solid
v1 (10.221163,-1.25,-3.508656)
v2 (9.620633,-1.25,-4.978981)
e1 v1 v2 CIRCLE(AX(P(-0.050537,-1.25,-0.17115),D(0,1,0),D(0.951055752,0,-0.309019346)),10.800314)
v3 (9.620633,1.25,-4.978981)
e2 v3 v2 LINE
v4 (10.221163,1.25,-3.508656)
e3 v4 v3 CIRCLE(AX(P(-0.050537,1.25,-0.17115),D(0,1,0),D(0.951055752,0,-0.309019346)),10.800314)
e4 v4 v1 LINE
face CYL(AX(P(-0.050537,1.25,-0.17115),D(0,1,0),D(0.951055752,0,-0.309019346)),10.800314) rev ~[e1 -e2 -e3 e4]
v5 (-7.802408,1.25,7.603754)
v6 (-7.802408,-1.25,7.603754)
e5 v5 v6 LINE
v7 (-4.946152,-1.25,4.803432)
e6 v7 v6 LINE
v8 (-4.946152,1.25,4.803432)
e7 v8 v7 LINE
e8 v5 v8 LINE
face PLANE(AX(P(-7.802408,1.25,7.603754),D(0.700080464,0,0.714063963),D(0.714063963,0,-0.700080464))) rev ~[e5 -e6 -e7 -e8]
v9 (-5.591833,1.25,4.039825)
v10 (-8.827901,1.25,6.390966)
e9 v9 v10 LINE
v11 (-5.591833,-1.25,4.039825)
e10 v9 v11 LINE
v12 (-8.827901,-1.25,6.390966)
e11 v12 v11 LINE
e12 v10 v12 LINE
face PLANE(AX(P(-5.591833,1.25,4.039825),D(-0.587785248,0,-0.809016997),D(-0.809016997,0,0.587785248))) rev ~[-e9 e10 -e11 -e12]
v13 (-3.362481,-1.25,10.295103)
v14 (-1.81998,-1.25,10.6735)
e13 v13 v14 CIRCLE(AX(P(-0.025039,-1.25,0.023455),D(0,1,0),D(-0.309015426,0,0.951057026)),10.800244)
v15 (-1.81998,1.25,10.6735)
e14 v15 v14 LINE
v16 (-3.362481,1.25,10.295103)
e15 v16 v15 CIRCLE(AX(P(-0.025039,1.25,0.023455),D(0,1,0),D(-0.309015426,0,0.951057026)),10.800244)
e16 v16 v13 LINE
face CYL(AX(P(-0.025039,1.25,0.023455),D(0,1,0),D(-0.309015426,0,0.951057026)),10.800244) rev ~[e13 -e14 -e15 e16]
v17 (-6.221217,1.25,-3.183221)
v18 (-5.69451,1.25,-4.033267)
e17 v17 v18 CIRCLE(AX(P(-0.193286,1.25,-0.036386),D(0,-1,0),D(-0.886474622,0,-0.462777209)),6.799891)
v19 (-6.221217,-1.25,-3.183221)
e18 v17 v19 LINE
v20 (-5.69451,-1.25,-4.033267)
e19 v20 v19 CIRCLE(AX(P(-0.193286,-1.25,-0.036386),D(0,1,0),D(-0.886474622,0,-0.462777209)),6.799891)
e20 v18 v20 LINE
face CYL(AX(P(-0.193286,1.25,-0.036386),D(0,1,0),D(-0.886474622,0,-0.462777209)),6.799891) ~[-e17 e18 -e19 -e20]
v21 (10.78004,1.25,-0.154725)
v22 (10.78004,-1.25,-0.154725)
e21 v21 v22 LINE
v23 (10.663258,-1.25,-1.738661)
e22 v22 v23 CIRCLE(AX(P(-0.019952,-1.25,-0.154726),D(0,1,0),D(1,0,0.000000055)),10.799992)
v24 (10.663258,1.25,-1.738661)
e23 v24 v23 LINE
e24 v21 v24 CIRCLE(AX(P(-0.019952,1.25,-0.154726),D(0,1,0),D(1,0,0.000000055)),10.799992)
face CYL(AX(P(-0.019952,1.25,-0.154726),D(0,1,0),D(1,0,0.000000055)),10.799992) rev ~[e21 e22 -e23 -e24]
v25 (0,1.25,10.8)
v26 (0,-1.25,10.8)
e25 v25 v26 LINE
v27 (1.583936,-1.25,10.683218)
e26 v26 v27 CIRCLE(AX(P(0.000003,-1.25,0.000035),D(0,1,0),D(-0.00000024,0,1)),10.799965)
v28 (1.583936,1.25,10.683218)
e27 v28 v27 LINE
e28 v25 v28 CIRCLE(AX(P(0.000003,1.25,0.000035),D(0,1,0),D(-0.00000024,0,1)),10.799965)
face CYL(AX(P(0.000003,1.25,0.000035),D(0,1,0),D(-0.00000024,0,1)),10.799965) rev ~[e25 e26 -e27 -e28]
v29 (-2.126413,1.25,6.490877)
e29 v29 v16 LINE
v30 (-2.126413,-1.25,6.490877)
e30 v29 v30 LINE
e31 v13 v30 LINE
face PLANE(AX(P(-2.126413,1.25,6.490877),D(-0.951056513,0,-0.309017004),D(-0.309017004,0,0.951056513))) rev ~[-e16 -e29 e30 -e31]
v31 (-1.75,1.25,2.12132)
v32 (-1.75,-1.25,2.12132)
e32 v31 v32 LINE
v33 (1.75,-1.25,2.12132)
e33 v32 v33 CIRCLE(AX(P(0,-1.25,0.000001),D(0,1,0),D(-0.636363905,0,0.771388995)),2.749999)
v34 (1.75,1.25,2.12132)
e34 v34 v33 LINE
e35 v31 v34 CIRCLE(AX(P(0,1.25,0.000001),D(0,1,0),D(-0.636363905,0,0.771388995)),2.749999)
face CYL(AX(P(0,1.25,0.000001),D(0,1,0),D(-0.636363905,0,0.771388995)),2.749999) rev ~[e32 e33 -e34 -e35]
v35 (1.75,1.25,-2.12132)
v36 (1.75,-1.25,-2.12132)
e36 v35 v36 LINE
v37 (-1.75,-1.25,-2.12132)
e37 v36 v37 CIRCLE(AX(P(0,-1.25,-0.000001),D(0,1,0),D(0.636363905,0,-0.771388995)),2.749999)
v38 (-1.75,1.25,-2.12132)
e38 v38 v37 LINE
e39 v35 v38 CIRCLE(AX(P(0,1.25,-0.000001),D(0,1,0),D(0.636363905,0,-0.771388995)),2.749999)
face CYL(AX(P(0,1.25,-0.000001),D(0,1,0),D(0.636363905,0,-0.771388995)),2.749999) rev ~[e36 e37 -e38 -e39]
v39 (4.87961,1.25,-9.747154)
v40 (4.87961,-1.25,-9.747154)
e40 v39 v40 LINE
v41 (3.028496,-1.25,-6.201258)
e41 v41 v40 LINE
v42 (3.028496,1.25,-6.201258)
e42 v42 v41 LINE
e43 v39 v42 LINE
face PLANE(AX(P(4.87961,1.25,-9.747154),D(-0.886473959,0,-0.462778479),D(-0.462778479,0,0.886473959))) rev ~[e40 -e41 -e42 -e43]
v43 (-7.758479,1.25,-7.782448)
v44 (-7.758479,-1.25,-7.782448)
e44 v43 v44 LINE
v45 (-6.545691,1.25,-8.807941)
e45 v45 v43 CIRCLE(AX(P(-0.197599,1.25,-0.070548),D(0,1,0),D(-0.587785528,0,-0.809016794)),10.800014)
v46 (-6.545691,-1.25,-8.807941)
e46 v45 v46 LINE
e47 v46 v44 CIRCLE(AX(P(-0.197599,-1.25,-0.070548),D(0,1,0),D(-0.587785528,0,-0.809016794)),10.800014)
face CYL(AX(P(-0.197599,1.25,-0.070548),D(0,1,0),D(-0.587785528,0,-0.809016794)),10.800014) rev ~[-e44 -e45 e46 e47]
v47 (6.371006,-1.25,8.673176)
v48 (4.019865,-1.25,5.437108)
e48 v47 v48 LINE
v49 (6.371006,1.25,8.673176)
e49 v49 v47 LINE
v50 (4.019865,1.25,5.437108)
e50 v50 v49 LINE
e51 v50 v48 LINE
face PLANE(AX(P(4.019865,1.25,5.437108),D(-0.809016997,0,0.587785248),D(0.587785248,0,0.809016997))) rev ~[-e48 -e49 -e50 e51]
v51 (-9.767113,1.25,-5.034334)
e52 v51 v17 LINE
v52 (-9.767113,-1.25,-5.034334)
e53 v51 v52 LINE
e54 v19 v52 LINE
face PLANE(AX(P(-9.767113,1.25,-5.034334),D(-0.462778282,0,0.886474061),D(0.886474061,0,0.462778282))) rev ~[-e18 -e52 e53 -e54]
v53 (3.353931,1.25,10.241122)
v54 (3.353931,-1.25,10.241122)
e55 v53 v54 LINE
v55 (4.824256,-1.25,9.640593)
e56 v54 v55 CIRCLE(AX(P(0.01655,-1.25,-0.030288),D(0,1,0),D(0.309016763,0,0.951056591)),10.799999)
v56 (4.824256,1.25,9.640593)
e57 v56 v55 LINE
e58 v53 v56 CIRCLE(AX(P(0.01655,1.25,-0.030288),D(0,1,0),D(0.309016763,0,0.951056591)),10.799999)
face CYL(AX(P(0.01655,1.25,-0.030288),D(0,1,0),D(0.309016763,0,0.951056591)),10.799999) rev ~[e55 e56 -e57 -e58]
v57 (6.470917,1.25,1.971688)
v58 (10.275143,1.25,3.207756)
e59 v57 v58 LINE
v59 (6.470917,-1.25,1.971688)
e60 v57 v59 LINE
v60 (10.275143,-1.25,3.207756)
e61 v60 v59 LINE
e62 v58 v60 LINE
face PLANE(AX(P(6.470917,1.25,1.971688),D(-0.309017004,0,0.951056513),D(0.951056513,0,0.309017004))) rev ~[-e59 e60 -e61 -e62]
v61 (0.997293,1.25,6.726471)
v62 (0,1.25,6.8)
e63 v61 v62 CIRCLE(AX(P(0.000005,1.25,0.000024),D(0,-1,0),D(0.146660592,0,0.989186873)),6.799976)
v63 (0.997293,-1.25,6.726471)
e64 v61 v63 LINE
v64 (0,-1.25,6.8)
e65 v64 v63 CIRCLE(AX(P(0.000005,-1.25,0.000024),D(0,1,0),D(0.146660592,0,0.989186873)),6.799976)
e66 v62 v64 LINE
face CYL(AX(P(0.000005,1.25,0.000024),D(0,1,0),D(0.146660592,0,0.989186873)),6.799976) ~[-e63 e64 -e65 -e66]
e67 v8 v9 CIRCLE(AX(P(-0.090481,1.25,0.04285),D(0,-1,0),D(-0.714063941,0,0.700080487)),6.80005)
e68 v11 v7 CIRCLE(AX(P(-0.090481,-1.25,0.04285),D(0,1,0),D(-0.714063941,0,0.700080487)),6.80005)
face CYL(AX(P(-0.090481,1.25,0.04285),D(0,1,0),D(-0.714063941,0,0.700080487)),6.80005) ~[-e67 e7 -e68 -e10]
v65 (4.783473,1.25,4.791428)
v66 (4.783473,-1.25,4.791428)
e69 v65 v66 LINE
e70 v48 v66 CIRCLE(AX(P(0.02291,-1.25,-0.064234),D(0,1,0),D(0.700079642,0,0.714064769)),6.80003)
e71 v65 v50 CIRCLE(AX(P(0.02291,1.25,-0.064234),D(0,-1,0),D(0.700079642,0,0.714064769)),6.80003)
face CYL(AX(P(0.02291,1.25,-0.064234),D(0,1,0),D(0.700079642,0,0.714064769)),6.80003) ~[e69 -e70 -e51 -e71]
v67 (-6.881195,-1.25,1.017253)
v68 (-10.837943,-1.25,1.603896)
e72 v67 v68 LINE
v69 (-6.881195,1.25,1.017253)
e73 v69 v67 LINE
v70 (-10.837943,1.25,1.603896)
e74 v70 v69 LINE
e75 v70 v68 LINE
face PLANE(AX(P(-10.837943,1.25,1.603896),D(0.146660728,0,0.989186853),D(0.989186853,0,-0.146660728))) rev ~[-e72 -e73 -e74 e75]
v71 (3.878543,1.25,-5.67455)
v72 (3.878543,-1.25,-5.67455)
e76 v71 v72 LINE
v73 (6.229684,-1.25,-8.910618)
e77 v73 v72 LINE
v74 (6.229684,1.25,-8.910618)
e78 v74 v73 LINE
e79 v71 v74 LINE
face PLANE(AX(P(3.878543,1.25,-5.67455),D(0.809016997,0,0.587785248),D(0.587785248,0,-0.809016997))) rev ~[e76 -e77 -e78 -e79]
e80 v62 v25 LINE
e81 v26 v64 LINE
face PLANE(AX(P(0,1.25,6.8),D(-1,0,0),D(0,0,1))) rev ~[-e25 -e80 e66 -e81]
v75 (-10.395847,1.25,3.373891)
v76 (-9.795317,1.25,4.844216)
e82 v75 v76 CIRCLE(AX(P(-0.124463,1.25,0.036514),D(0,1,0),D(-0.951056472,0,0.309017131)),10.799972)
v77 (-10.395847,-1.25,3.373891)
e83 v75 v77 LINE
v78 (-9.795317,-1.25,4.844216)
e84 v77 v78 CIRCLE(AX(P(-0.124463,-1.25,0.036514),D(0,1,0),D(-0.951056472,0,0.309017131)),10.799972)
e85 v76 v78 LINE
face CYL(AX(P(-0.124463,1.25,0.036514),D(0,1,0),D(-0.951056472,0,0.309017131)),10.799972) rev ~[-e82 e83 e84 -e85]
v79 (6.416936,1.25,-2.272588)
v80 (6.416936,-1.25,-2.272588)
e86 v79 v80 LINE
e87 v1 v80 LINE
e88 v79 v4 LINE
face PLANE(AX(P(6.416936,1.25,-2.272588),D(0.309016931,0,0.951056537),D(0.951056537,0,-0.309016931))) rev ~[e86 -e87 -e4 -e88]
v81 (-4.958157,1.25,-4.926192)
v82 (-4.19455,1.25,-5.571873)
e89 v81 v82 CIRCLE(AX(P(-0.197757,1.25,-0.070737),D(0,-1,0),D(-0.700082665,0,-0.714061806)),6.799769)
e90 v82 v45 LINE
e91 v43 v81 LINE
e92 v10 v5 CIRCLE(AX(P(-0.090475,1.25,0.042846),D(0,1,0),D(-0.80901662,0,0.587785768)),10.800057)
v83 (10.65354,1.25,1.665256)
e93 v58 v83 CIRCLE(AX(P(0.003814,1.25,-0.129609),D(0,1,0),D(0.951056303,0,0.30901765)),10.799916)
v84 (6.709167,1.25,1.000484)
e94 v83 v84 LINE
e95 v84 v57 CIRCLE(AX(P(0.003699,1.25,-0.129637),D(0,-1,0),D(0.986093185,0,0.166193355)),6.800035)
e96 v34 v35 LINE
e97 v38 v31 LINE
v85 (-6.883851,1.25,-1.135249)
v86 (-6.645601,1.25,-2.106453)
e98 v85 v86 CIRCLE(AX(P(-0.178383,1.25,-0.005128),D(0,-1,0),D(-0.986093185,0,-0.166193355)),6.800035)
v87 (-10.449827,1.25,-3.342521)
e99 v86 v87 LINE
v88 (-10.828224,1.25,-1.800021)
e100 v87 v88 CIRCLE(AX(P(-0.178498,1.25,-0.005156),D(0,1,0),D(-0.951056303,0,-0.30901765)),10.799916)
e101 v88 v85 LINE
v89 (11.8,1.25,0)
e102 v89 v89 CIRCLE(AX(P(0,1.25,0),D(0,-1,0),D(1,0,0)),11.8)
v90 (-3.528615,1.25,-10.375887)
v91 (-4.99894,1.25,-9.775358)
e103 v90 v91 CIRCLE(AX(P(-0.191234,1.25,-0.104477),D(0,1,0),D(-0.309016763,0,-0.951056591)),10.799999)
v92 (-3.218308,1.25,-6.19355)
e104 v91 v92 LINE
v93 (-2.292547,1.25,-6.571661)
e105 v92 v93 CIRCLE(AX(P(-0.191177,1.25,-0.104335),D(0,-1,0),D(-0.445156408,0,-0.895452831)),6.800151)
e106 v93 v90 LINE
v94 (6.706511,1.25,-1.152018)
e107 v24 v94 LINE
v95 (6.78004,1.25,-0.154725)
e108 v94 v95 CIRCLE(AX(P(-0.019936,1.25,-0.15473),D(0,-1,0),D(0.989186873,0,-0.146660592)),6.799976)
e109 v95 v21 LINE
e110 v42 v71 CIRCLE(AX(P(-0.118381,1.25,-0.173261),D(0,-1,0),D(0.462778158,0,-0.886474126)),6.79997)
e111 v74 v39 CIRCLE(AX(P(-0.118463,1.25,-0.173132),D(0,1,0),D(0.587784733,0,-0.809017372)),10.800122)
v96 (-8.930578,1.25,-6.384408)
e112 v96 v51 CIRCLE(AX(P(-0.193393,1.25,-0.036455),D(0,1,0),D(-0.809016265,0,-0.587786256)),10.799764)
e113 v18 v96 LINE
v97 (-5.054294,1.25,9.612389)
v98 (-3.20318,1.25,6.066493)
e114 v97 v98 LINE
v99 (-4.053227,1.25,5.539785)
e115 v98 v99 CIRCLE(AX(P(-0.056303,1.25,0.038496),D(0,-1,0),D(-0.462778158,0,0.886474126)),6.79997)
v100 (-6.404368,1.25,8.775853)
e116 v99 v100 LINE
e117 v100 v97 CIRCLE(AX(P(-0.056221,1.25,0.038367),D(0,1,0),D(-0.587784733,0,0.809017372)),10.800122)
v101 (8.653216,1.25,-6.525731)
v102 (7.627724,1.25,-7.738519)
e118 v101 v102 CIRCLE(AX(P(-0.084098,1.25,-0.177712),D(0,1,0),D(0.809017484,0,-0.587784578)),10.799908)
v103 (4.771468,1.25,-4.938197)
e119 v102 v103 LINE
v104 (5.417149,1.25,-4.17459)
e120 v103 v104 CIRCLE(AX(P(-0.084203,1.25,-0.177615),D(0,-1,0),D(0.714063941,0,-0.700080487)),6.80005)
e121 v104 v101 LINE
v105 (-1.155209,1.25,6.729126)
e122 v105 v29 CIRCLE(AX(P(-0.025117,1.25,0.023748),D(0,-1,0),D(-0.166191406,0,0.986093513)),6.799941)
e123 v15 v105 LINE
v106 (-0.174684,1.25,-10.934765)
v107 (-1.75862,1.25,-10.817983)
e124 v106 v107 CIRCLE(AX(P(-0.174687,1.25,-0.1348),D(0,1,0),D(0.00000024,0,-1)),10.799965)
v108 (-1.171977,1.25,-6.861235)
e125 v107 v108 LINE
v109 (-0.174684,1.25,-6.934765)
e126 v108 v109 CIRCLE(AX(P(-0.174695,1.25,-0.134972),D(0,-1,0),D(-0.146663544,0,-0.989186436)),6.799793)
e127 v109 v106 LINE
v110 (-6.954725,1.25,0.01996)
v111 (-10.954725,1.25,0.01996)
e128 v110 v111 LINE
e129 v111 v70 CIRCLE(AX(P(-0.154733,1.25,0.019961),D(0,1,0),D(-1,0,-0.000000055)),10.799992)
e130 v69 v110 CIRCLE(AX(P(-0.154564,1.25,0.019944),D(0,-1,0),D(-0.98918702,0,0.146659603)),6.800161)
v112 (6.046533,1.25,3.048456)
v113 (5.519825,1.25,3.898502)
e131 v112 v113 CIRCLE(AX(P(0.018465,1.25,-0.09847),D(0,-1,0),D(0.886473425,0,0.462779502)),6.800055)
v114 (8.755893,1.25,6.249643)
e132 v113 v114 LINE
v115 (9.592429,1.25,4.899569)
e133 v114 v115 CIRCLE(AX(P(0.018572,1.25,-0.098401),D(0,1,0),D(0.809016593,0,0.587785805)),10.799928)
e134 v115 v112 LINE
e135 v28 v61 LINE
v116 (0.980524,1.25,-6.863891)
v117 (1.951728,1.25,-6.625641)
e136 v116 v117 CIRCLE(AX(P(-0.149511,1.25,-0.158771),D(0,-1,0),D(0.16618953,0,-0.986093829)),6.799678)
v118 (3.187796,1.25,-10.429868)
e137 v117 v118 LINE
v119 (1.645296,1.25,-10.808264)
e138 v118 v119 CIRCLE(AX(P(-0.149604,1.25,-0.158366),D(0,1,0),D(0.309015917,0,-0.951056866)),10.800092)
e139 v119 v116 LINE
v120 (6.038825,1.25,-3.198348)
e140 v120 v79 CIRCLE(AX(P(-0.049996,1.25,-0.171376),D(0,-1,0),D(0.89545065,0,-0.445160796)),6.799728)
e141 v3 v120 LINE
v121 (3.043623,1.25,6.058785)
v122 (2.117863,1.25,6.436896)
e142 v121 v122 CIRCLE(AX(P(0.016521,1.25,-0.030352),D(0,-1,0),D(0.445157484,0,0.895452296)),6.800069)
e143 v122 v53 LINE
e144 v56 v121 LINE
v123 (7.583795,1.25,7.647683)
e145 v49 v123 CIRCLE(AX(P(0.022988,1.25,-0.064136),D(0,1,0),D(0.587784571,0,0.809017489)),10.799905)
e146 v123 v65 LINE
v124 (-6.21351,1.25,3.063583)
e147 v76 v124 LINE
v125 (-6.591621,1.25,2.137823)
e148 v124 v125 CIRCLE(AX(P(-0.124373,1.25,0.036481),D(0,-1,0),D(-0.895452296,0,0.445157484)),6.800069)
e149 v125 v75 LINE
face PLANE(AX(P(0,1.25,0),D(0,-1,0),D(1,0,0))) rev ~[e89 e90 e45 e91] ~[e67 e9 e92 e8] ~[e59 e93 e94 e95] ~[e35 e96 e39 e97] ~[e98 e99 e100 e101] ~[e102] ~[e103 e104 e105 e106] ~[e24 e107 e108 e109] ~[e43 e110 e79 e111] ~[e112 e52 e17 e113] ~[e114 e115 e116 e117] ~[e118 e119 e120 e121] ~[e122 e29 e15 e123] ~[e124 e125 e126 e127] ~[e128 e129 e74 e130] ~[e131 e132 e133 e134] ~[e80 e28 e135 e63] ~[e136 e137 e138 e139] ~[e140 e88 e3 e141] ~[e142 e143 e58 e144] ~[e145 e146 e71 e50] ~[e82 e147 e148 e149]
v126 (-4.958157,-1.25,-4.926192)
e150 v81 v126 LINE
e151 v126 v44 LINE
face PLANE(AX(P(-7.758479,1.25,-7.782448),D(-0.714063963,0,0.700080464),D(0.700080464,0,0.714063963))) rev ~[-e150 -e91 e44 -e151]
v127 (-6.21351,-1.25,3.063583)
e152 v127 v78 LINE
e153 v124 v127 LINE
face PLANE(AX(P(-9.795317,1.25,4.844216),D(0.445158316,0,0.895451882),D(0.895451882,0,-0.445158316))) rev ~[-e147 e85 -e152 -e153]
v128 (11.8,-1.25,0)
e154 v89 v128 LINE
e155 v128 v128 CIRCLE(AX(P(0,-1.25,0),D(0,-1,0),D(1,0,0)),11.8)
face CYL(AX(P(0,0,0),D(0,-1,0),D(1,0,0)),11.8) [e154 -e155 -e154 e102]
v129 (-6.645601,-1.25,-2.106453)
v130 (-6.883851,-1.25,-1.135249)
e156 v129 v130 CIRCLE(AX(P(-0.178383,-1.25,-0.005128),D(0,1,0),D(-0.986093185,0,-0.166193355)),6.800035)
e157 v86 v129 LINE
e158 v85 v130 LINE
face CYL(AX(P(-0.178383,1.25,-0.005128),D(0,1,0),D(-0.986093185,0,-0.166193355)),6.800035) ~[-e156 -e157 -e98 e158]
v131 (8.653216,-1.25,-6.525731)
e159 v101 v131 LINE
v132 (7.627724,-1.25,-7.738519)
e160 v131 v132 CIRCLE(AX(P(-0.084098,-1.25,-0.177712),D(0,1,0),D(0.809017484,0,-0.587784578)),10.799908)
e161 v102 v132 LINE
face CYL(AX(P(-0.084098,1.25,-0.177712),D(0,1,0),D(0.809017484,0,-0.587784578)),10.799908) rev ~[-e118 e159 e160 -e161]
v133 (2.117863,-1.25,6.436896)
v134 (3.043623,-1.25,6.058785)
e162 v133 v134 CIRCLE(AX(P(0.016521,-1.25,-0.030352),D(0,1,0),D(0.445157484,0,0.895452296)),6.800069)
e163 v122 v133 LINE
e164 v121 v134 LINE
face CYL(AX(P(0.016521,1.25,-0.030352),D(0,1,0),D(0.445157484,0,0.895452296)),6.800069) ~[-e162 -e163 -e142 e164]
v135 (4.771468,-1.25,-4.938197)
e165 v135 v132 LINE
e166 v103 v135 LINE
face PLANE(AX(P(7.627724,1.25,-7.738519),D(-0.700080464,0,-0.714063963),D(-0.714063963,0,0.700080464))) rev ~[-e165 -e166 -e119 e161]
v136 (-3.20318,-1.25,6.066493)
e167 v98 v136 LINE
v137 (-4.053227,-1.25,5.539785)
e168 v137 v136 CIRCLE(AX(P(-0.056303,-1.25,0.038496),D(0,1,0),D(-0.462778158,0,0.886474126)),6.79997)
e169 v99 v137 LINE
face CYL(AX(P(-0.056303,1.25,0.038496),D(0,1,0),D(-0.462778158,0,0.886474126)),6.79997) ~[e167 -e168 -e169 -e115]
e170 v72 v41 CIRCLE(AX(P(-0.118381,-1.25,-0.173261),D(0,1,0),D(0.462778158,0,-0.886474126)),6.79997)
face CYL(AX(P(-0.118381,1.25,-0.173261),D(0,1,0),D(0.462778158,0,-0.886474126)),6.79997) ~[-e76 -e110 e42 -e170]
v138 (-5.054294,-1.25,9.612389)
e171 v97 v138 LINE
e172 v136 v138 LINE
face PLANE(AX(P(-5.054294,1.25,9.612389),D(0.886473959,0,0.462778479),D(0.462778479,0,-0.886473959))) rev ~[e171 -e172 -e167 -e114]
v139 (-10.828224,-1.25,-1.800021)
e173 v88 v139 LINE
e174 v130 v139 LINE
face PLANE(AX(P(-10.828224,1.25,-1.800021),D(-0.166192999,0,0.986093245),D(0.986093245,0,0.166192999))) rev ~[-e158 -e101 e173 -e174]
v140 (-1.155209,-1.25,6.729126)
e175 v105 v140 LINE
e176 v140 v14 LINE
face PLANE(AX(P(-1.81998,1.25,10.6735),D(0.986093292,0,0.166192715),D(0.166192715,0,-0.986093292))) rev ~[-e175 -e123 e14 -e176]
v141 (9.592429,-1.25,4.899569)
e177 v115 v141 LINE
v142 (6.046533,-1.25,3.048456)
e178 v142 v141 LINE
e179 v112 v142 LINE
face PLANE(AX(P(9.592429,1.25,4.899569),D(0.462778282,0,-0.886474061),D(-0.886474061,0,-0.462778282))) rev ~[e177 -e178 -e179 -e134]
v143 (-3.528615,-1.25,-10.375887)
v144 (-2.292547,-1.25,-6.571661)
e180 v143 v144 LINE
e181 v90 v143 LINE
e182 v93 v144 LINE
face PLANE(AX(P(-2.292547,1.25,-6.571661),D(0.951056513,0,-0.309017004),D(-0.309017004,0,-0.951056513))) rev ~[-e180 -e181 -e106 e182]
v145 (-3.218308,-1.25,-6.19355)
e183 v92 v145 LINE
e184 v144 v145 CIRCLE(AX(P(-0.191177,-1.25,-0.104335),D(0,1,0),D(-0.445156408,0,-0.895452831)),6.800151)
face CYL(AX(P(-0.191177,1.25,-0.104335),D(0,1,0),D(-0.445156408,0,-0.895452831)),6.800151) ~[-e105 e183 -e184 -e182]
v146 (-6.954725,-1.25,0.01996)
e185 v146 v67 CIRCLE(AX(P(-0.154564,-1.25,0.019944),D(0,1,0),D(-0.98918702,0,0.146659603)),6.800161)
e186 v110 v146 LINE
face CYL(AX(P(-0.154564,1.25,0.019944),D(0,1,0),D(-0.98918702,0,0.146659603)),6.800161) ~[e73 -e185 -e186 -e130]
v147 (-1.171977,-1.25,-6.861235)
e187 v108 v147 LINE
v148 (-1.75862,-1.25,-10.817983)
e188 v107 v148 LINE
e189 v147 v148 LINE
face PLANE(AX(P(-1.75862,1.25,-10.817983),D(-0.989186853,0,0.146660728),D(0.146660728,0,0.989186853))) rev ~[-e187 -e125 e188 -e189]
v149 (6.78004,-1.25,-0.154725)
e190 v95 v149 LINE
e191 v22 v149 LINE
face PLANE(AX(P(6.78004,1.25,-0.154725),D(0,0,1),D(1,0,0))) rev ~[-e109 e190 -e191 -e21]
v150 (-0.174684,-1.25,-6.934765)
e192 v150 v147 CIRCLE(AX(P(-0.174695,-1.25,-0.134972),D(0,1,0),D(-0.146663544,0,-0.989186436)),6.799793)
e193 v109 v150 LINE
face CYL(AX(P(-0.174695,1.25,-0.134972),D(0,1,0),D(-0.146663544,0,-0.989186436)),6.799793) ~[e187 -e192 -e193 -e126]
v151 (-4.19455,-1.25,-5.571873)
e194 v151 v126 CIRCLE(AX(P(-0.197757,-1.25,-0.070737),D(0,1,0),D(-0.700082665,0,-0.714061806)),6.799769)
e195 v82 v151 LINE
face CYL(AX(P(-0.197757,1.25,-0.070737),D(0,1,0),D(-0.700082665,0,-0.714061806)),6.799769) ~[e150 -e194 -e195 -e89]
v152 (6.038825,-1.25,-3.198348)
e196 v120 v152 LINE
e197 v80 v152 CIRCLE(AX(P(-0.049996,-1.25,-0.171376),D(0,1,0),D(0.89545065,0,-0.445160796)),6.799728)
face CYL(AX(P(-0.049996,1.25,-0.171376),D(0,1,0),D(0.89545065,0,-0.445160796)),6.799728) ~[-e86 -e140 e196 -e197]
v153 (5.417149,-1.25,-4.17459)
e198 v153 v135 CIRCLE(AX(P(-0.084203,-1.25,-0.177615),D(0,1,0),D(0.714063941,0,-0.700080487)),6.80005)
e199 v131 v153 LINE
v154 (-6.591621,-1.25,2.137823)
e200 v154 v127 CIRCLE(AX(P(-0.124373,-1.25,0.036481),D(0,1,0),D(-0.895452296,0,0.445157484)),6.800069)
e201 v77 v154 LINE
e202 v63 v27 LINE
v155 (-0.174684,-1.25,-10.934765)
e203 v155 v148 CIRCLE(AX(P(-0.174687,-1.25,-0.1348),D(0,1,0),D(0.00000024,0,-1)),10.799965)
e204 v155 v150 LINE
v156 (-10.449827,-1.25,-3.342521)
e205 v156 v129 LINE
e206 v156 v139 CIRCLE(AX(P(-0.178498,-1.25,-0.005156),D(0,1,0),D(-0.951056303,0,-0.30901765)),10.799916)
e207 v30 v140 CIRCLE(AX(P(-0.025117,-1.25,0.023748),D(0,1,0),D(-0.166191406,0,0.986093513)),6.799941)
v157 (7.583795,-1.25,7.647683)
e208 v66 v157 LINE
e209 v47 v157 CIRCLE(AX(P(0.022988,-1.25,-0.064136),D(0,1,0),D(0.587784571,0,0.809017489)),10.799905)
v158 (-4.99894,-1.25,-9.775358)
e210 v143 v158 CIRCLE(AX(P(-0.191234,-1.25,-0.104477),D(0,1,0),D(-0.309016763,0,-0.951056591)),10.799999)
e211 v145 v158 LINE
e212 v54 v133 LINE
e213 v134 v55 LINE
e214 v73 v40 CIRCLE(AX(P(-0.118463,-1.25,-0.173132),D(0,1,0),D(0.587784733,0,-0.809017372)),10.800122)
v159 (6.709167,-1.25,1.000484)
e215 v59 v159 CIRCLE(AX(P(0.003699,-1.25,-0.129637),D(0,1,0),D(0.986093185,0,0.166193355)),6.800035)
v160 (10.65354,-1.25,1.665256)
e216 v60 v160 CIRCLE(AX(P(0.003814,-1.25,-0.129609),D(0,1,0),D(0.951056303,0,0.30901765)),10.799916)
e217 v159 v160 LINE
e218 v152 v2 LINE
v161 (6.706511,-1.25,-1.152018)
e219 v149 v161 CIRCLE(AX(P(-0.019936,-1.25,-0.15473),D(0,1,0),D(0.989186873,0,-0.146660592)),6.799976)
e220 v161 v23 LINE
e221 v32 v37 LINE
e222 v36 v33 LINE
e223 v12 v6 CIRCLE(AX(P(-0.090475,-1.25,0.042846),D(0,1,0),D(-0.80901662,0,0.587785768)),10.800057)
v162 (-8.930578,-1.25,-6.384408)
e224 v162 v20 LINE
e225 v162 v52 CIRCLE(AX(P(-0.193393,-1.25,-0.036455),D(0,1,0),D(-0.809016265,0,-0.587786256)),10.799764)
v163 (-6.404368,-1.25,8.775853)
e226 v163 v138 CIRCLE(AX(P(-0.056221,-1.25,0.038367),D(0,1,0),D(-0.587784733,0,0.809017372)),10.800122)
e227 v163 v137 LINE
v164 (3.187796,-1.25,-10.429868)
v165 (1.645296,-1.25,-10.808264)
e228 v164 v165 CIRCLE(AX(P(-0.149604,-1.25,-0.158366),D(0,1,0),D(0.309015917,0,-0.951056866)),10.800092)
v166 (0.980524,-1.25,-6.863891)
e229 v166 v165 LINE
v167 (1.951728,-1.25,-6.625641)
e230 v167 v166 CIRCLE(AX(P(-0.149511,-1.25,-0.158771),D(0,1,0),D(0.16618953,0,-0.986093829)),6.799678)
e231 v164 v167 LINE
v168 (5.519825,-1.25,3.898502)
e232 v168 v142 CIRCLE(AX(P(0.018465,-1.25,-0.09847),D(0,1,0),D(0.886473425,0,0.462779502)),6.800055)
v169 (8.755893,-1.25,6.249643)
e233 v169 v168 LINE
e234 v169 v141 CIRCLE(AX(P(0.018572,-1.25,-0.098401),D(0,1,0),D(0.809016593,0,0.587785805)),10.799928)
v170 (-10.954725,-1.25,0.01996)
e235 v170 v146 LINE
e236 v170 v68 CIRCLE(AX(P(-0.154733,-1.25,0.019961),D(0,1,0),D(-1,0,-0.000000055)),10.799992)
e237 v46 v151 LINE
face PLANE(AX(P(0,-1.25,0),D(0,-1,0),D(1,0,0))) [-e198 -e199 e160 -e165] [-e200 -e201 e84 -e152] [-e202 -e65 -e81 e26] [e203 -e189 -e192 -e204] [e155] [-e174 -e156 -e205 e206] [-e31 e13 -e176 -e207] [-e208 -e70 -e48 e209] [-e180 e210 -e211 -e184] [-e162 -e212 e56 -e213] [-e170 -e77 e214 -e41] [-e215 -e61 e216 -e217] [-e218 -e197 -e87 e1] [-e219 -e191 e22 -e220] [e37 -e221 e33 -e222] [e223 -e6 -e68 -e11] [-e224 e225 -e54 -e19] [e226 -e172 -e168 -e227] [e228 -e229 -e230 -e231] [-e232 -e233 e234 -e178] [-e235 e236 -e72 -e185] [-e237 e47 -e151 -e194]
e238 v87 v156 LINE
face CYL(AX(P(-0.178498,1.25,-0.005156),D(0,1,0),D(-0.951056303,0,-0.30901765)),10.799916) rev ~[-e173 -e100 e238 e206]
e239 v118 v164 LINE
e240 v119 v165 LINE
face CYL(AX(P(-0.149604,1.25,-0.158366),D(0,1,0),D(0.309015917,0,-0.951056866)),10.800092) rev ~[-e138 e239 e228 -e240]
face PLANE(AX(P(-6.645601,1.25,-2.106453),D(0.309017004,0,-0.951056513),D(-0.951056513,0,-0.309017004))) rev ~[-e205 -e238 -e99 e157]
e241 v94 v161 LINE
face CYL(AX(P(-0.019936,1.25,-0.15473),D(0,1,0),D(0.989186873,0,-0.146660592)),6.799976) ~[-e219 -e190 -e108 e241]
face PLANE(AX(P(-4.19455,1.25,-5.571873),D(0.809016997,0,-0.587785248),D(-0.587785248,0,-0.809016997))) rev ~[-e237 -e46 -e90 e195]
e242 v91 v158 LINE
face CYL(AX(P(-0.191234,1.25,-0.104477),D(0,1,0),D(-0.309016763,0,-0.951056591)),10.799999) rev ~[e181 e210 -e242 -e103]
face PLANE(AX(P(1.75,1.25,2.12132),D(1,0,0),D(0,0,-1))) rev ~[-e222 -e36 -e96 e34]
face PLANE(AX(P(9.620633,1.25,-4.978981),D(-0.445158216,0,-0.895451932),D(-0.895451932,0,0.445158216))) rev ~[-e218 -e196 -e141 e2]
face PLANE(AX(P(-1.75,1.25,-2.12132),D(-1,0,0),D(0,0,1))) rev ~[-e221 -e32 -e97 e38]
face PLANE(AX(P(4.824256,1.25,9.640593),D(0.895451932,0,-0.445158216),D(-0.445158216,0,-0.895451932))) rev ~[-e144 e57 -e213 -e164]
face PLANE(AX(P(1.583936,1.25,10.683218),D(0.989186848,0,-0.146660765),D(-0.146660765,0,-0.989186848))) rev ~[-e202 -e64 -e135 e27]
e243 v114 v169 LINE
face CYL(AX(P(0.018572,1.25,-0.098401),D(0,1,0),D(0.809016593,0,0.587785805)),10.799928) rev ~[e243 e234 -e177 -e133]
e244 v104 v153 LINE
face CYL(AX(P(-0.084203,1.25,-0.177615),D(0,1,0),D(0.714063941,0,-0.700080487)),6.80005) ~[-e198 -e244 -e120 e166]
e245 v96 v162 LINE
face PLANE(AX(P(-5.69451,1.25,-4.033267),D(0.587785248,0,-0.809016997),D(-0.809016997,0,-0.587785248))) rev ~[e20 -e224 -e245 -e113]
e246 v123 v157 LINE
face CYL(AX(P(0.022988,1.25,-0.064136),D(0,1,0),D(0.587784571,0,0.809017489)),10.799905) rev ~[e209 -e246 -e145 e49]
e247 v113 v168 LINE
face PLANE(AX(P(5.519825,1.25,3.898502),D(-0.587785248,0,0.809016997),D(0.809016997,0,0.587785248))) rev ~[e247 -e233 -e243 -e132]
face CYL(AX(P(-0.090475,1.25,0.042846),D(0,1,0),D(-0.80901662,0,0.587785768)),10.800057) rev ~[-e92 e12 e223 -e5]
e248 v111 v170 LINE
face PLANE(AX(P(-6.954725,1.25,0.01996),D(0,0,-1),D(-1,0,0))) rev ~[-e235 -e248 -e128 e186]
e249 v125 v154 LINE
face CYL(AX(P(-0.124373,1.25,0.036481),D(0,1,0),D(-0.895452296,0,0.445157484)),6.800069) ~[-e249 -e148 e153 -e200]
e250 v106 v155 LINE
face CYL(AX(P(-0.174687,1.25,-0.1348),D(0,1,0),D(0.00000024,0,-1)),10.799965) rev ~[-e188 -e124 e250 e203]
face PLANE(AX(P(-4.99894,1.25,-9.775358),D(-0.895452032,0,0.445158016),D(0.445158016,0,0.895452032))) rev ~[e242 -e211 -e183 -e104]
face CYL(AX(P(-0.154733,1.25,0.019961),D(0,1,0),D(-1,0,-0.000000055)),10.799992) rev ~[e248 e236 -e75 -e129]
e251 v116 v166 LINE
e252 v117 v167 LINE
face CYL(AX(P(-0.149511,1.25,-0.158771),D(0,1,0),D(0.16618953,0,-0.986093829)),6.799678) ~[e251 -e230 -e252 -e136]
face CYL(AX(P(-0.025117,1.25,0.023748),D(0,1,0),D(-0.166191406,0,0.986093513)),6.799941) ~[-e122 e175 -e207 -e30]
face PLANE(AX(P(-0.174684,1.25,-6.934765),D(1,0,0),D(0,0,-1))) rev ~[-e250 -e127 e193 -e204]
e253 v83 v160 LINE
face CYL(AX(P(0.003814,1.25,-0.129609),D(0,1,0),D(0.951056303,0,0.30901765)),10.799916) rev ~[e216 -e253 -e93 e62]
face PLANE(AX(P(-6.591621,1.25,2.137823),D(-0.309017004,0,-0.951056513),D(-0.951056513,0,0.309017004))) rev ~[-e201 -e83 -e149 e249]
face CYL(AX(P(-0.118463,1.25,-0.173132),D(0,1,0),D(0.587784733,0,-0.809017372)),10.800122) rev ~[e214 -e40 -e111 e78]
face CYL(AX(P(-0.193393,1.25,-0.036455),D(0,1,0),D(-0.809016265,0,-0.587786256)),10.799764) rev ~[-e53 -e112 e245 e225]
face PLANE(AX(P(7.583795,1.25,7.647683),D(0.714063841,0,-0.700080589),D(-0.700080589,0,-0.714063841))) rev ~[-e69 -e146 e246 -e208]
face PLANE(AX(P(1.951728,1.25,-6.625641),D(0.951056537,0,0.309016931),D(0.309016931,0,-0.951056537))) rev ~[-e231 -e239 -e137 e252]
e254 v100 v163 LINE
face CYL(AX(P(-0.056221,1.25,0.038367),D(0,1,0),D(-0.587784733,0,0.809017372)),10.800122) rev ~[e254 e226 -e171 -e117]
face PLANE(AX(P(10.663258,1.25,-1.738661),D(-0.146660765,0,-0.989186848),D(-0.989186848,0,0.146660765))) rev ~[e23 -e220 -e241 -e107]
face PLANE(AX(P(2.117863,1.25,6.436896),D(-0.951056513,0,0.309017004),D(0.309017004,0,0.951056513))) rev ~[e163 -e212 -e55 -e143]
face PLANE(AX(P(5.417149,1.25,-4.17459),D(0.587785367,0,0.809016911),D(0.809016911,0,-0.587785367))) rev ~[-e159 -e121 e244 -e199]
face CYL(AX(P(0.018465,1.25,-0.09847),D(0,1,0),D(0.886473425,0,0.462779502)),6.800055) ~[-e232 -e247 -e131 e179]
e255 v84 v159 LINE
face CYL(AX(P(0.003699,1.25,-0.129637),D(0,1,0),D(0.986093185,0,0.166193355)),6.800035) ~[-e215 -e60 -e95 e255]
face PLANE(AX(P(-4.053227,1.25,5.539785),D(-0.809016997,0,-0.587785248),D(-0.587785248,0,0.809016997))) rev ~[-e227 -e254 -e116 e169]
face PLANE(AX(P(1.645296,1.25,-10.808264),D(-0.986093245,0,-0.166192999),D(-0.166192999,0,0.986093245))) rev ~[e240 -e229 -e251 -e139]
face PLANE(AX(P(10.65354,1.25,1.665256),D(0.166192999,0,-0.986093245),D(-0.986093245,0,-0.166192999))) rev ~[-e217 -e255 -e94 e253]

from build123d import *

# Parameters (mm, degrees)
F0_R     = 11.8
F1_DEPTH = 1.25
F3_DEPTH = 2.501
F5_DEPTH = 2.501


with BuildPart() as f1:
    # F0 (on Front) → F1 (new body, symmetric)
    with BuildSketch(Plane.XZ):
        Circle(F0_R)
    extrude(amount=F1_DEPTH, both=True)

    # F2 (on face) → F3 (cut, through all)
    with BuildSketch(Plane(origin=(0, 1.25, 0), x_dir=(-1, 0, 0), z_dir=(0, 1, 0))):
        with BuildLine():
            ThreePointArc((0, 10.8), (-0.794118, 10.770765), (-1.583936, 10.683218))
            Line((-1.583936, 10.683218), (-0.997293, 6.726471))
            ThreePointArc((-0.997293, 6.726471), (-0.5, 6.781593), (0, 6.8))
            Line((0, 6.8), (0, 10.8))
        make_face()
        with BuildLine():
            ThreePointArc((-6.371006, 8.673176), (-6.996277, 8.182754), (-7.583795, 7.647683))
            Line((-7.583795, 7.647683), (-4.783473, 4.791428))
            ThreePointArc((-4.783473, 4.791428), (-4.413554, 5.128324), (-4.019865, 5.437108))
            Line((-4.019865, 5.437108), (-6.371006, 8.673176))
        make_face()
        with BuildLine():
            ThreePointArc((-8.755893, 6.249643), (-9.199012, 5.590005), (-9.592429, 4.899569))
            Line((-9.592429, 4.899569), (-6.046533, 3.048456))
            ThreePointArc((-6.046533, 3.048456), (-5.798826, 3.483174), (-5.519825, 3.898502))
            Line((-5.519825, 3.898502), (-8.755893, 6.249643))
        make_face()
        with BuildLine():
            ThreePointArc((-10.275143, 3.207756), (-10.492735, 2.443471), (-10.65354, 1.665256))
            Line((-10.65354, 1.665256), (-6.709167, 1.000484))
            ThreePointArc((-6.709167, 1.000484), (-6.607919, 1.490472), (-6.470917, 1.971688))
            Line((-6.470917, 1.971688), (-10.275143, 3.207756))
        make_face()
        with BuildLine():
            ThreePointArc((-10.78004, -0.154725), (-10.750805, -0.948842), (-10.663258, -1.738661))
            Line((-10.663258, -1.738661), (-6.706511, -1.152018))
            ThreePointArc((-6.706511, -1.152018), (-6.761633, -0.654725), (-6.78004, -0.154725))
            Line((-6.78004, -0.154725), (-10.78004, -0.154725))
        make_face()
        with BuildLine():
            ThreePointArc((-10.221163, -3.508656), (-9.947962, -4.254872), (-9.620633, -4.978981))
            Line((-9.620633, -4.978981), (-6.038825, -3.198348))
            ThreePointArc((-6.038825, -3.198348), (-6.244922, -2.742428), (-6.416936, -2.272588))
            Line((-6.416936, -2.272588), (-10.221163, -3.508656))
        make_face()
        with BuildLine():
            ThreePointArc((-8.653216, -6.525731), (-8.162794, -7.151002), (-7.627724, -7.738519))
            Line((-7.627724, -7.738519), (-4.771468, -4.938197))
            ThreePointArc((-4.771468, -4.938197), (-5.108364, -4.568279), (-5.417149, -4.17459))
            Line((-5.417149, -4.17459), (-8.653216, -6.525731))
        make_face()
        with BuildLine():
            ThreePointArc((-6.229684, -8.910618), (-5.570045, -9.353737), (-4.87961, -9.747154))
            Line((-4.87961, -9.747154), (-3.028496, -6.201258))
            ThreePointArc((-3.028496, -6.201258), (-3.463215, -5.953551), (-3.878543, -5.67455))
            Line((-3.878543, -5.67455), (-6.229684, -8.910618))
        make_face()
        with BuildLine():
            ThreePointArc((-3.187796, -10.429868), (-2.423511, -10.647459), (-1.645296, -10.808264))
            Line((-1.645296, -10.808264), (-0.980524, -6.863891))
            ThreePointArc((-0.980524, -6.863891), (-1.470512, -6.762644), (-1.951728, -6.625641))
            Line((-1.951728, -6.625641), (-3.187796, -10.429868))
        make_face()
        with BuildLine():
            ThreePointArc((0.174684, -10.934765), (0.968802, -10.90553), (1.75862, -10.817983))
            Line((1.75862, -10.817983), (1.171977, -6.861235))
            ThreePointArc((1.171977, -6.861235), (0.674684, -6.916358), (0.174684, -6.934765))
            Line((0.174684, -6.934765), (0.174684, -10.934765))
        make_face()
        with BuildLine():
            ThreePointArc((3.528615, -10.375887), (4.274832, -10.102687), (4.99894, -9.775358))
            Line((4.99894, -9.775358), (3.218308, -6.19355))
            ThreePointArc((3.218308, -6.19355), (2.762387, -6.399646), (2.292547, -6.571661))
            Line((2.292547, -6.571661), (3.528615, -10.375887))
        make_face()
        with BuildLine():
            ThreePointArc((6.545691, -8.807941), (7.170961, -8.317519), (7.758479, -7.782448))
            Line((7.758479, -7.782448), (4.958157, -4.926192))
            ThreePointArc((4.958157, -4.926192), (4.588239, -5.263089), (4.19455, -5.571873))
            Line((4.19455, -5.571873), (6.545691, -8.807941))
        make_face()
        with BuildLine():
            ThreePointArc((8.930578, -6.384408), (9.373697, -5.72477), (9.767113, -5.034334))
            Line((9.767113, -5.034334), (6.221217, -3.183221))
            ThreePointArc((6.221217, -3.183221), (5.973511, -3.617939), (5.69451, -4.033267))
            Line((5.69451, -4.033267), (8.930578, -6.384408))
        make_face()
        with BuildLine():
            ThreePointArc((10.449827, -3.342521), (10.667419, -2.578236), (10.828224, -1.800021))
            Line((10.828224, -1.800021), (6.883851, -1.135249))
            ThreePointArc((6.883851, -1.135249), (6.782603, -1.625237), (6.645601, -2.106453))
            Line((6.645601, -2.106453), (10.449827, -3.342521))
        make_face()
        with BuildLine():
            ThreePointArc((10.954725, 0.01996), (10.92549, 0.814077), (10.837943, 1.603896))
            Line((10.837943, 1.603896), (6.881195, 1.017253))
            ThreePointArc((6.881195, 1.017253), (6.936317, 0.51996), (6.954725, 0.01996))
            Line((6.954725, 0.01996), (10.954725, 0.01996))
        make_face()
        with BuildLine():
            ThreePointArc((10.395847, 3.373891), (10.122647, 4.120107), (9.795317, 4.844216))
            Line((9.795317, 4.844216), (6.21351, 3.063583))
            ThreePointArc((6.21351, 3.063583), (6.419606, 2.607663), (6.591621, 2.137823))
            Line((6.591621, 2.137823), (10.395847, 3.373891))
        make_face()
        with BuildLine():
            ThreePointArc((8.827901, 6.390966), (8.337478, 7.016237), (7.802408, 7.603754))
            Line((7.802408, 7.603754), (4.946152, 4.803432))
            ThreePointArc((4.946152, 4.803432), (5.283048, 4.433514), (5.591833, 4.039825))
            Line((5.591833, 4.039825), (8.827901, 6.390966))
        make_face()
        with BuildLine():
            ThreePointArc((6.404368, 8.775853), (5.744729, 9.218972), (5.054294, 9.612389))
            Line((5.054294, 9.612389), (3.20318, 6.066493))
            ThreePointArc((3.20318, 6.066493), (3.637899, 5.818786), (4.053227, 5.539785))
            Line((4.053227, 5.539785), (6.404368, 8.775853))
        make_face()
        with BuildLine():
            ThreePointArc((3.362481, 10.295103), (2.598196, 10.512694), (1.81998, 10.6735))
            Line((1.81998, 10.6735), (1.155209, 6.729126))
            ThreePointArc((1.155209, 6.729126), (1.645196, 6.627879), (2.126413, 6.490877))
            Line((2.126413, 6.490877), (3.362481, 10.295103))
        make_face()
        with BuildLine():
            ThreePointArc((-3.353931, 10.241122), (-4.100148, 9.967922), (-4.824256, 9.640593))
            Line((-4.824256, 9.640593), (-3.043623, 6.058785))
            ThreePointArc((-3.043623, 6.058785), (-2.587703, 6.264881), (-2.117863, 6.436896))
            Line((-2.117863, 6.436896), (-3.353931, 10.241122))
        make_face()
    extrude(amount=-F3_DEPTH, mode=Mode.SUBTRACT)

    # F4 (on face) → F5 (cut, through all)
    with BuildSketch(Plane(origin=(0, 1.25, 0), x_dir=(-1, 0, 0), z_dir=(0, 1, 0))):
        with BuildLine():
            Line((-1.75, 2.12132), (-1.75, -2.12132))
            ThreePointArc((-1.75, -2.12132), (0, -2.75), (1.75, -2.12132))
            Line((1.75, -2.12132), (1.75, 2.12132))
            ThreePointArc((1.75, 2.12132), (0, 2.75), (-1.75, 2.12132))
        make_face()
    extrude(amount=-F5_DEPTH, mode=Mode.SUBTRACT)


solid = f1.part
